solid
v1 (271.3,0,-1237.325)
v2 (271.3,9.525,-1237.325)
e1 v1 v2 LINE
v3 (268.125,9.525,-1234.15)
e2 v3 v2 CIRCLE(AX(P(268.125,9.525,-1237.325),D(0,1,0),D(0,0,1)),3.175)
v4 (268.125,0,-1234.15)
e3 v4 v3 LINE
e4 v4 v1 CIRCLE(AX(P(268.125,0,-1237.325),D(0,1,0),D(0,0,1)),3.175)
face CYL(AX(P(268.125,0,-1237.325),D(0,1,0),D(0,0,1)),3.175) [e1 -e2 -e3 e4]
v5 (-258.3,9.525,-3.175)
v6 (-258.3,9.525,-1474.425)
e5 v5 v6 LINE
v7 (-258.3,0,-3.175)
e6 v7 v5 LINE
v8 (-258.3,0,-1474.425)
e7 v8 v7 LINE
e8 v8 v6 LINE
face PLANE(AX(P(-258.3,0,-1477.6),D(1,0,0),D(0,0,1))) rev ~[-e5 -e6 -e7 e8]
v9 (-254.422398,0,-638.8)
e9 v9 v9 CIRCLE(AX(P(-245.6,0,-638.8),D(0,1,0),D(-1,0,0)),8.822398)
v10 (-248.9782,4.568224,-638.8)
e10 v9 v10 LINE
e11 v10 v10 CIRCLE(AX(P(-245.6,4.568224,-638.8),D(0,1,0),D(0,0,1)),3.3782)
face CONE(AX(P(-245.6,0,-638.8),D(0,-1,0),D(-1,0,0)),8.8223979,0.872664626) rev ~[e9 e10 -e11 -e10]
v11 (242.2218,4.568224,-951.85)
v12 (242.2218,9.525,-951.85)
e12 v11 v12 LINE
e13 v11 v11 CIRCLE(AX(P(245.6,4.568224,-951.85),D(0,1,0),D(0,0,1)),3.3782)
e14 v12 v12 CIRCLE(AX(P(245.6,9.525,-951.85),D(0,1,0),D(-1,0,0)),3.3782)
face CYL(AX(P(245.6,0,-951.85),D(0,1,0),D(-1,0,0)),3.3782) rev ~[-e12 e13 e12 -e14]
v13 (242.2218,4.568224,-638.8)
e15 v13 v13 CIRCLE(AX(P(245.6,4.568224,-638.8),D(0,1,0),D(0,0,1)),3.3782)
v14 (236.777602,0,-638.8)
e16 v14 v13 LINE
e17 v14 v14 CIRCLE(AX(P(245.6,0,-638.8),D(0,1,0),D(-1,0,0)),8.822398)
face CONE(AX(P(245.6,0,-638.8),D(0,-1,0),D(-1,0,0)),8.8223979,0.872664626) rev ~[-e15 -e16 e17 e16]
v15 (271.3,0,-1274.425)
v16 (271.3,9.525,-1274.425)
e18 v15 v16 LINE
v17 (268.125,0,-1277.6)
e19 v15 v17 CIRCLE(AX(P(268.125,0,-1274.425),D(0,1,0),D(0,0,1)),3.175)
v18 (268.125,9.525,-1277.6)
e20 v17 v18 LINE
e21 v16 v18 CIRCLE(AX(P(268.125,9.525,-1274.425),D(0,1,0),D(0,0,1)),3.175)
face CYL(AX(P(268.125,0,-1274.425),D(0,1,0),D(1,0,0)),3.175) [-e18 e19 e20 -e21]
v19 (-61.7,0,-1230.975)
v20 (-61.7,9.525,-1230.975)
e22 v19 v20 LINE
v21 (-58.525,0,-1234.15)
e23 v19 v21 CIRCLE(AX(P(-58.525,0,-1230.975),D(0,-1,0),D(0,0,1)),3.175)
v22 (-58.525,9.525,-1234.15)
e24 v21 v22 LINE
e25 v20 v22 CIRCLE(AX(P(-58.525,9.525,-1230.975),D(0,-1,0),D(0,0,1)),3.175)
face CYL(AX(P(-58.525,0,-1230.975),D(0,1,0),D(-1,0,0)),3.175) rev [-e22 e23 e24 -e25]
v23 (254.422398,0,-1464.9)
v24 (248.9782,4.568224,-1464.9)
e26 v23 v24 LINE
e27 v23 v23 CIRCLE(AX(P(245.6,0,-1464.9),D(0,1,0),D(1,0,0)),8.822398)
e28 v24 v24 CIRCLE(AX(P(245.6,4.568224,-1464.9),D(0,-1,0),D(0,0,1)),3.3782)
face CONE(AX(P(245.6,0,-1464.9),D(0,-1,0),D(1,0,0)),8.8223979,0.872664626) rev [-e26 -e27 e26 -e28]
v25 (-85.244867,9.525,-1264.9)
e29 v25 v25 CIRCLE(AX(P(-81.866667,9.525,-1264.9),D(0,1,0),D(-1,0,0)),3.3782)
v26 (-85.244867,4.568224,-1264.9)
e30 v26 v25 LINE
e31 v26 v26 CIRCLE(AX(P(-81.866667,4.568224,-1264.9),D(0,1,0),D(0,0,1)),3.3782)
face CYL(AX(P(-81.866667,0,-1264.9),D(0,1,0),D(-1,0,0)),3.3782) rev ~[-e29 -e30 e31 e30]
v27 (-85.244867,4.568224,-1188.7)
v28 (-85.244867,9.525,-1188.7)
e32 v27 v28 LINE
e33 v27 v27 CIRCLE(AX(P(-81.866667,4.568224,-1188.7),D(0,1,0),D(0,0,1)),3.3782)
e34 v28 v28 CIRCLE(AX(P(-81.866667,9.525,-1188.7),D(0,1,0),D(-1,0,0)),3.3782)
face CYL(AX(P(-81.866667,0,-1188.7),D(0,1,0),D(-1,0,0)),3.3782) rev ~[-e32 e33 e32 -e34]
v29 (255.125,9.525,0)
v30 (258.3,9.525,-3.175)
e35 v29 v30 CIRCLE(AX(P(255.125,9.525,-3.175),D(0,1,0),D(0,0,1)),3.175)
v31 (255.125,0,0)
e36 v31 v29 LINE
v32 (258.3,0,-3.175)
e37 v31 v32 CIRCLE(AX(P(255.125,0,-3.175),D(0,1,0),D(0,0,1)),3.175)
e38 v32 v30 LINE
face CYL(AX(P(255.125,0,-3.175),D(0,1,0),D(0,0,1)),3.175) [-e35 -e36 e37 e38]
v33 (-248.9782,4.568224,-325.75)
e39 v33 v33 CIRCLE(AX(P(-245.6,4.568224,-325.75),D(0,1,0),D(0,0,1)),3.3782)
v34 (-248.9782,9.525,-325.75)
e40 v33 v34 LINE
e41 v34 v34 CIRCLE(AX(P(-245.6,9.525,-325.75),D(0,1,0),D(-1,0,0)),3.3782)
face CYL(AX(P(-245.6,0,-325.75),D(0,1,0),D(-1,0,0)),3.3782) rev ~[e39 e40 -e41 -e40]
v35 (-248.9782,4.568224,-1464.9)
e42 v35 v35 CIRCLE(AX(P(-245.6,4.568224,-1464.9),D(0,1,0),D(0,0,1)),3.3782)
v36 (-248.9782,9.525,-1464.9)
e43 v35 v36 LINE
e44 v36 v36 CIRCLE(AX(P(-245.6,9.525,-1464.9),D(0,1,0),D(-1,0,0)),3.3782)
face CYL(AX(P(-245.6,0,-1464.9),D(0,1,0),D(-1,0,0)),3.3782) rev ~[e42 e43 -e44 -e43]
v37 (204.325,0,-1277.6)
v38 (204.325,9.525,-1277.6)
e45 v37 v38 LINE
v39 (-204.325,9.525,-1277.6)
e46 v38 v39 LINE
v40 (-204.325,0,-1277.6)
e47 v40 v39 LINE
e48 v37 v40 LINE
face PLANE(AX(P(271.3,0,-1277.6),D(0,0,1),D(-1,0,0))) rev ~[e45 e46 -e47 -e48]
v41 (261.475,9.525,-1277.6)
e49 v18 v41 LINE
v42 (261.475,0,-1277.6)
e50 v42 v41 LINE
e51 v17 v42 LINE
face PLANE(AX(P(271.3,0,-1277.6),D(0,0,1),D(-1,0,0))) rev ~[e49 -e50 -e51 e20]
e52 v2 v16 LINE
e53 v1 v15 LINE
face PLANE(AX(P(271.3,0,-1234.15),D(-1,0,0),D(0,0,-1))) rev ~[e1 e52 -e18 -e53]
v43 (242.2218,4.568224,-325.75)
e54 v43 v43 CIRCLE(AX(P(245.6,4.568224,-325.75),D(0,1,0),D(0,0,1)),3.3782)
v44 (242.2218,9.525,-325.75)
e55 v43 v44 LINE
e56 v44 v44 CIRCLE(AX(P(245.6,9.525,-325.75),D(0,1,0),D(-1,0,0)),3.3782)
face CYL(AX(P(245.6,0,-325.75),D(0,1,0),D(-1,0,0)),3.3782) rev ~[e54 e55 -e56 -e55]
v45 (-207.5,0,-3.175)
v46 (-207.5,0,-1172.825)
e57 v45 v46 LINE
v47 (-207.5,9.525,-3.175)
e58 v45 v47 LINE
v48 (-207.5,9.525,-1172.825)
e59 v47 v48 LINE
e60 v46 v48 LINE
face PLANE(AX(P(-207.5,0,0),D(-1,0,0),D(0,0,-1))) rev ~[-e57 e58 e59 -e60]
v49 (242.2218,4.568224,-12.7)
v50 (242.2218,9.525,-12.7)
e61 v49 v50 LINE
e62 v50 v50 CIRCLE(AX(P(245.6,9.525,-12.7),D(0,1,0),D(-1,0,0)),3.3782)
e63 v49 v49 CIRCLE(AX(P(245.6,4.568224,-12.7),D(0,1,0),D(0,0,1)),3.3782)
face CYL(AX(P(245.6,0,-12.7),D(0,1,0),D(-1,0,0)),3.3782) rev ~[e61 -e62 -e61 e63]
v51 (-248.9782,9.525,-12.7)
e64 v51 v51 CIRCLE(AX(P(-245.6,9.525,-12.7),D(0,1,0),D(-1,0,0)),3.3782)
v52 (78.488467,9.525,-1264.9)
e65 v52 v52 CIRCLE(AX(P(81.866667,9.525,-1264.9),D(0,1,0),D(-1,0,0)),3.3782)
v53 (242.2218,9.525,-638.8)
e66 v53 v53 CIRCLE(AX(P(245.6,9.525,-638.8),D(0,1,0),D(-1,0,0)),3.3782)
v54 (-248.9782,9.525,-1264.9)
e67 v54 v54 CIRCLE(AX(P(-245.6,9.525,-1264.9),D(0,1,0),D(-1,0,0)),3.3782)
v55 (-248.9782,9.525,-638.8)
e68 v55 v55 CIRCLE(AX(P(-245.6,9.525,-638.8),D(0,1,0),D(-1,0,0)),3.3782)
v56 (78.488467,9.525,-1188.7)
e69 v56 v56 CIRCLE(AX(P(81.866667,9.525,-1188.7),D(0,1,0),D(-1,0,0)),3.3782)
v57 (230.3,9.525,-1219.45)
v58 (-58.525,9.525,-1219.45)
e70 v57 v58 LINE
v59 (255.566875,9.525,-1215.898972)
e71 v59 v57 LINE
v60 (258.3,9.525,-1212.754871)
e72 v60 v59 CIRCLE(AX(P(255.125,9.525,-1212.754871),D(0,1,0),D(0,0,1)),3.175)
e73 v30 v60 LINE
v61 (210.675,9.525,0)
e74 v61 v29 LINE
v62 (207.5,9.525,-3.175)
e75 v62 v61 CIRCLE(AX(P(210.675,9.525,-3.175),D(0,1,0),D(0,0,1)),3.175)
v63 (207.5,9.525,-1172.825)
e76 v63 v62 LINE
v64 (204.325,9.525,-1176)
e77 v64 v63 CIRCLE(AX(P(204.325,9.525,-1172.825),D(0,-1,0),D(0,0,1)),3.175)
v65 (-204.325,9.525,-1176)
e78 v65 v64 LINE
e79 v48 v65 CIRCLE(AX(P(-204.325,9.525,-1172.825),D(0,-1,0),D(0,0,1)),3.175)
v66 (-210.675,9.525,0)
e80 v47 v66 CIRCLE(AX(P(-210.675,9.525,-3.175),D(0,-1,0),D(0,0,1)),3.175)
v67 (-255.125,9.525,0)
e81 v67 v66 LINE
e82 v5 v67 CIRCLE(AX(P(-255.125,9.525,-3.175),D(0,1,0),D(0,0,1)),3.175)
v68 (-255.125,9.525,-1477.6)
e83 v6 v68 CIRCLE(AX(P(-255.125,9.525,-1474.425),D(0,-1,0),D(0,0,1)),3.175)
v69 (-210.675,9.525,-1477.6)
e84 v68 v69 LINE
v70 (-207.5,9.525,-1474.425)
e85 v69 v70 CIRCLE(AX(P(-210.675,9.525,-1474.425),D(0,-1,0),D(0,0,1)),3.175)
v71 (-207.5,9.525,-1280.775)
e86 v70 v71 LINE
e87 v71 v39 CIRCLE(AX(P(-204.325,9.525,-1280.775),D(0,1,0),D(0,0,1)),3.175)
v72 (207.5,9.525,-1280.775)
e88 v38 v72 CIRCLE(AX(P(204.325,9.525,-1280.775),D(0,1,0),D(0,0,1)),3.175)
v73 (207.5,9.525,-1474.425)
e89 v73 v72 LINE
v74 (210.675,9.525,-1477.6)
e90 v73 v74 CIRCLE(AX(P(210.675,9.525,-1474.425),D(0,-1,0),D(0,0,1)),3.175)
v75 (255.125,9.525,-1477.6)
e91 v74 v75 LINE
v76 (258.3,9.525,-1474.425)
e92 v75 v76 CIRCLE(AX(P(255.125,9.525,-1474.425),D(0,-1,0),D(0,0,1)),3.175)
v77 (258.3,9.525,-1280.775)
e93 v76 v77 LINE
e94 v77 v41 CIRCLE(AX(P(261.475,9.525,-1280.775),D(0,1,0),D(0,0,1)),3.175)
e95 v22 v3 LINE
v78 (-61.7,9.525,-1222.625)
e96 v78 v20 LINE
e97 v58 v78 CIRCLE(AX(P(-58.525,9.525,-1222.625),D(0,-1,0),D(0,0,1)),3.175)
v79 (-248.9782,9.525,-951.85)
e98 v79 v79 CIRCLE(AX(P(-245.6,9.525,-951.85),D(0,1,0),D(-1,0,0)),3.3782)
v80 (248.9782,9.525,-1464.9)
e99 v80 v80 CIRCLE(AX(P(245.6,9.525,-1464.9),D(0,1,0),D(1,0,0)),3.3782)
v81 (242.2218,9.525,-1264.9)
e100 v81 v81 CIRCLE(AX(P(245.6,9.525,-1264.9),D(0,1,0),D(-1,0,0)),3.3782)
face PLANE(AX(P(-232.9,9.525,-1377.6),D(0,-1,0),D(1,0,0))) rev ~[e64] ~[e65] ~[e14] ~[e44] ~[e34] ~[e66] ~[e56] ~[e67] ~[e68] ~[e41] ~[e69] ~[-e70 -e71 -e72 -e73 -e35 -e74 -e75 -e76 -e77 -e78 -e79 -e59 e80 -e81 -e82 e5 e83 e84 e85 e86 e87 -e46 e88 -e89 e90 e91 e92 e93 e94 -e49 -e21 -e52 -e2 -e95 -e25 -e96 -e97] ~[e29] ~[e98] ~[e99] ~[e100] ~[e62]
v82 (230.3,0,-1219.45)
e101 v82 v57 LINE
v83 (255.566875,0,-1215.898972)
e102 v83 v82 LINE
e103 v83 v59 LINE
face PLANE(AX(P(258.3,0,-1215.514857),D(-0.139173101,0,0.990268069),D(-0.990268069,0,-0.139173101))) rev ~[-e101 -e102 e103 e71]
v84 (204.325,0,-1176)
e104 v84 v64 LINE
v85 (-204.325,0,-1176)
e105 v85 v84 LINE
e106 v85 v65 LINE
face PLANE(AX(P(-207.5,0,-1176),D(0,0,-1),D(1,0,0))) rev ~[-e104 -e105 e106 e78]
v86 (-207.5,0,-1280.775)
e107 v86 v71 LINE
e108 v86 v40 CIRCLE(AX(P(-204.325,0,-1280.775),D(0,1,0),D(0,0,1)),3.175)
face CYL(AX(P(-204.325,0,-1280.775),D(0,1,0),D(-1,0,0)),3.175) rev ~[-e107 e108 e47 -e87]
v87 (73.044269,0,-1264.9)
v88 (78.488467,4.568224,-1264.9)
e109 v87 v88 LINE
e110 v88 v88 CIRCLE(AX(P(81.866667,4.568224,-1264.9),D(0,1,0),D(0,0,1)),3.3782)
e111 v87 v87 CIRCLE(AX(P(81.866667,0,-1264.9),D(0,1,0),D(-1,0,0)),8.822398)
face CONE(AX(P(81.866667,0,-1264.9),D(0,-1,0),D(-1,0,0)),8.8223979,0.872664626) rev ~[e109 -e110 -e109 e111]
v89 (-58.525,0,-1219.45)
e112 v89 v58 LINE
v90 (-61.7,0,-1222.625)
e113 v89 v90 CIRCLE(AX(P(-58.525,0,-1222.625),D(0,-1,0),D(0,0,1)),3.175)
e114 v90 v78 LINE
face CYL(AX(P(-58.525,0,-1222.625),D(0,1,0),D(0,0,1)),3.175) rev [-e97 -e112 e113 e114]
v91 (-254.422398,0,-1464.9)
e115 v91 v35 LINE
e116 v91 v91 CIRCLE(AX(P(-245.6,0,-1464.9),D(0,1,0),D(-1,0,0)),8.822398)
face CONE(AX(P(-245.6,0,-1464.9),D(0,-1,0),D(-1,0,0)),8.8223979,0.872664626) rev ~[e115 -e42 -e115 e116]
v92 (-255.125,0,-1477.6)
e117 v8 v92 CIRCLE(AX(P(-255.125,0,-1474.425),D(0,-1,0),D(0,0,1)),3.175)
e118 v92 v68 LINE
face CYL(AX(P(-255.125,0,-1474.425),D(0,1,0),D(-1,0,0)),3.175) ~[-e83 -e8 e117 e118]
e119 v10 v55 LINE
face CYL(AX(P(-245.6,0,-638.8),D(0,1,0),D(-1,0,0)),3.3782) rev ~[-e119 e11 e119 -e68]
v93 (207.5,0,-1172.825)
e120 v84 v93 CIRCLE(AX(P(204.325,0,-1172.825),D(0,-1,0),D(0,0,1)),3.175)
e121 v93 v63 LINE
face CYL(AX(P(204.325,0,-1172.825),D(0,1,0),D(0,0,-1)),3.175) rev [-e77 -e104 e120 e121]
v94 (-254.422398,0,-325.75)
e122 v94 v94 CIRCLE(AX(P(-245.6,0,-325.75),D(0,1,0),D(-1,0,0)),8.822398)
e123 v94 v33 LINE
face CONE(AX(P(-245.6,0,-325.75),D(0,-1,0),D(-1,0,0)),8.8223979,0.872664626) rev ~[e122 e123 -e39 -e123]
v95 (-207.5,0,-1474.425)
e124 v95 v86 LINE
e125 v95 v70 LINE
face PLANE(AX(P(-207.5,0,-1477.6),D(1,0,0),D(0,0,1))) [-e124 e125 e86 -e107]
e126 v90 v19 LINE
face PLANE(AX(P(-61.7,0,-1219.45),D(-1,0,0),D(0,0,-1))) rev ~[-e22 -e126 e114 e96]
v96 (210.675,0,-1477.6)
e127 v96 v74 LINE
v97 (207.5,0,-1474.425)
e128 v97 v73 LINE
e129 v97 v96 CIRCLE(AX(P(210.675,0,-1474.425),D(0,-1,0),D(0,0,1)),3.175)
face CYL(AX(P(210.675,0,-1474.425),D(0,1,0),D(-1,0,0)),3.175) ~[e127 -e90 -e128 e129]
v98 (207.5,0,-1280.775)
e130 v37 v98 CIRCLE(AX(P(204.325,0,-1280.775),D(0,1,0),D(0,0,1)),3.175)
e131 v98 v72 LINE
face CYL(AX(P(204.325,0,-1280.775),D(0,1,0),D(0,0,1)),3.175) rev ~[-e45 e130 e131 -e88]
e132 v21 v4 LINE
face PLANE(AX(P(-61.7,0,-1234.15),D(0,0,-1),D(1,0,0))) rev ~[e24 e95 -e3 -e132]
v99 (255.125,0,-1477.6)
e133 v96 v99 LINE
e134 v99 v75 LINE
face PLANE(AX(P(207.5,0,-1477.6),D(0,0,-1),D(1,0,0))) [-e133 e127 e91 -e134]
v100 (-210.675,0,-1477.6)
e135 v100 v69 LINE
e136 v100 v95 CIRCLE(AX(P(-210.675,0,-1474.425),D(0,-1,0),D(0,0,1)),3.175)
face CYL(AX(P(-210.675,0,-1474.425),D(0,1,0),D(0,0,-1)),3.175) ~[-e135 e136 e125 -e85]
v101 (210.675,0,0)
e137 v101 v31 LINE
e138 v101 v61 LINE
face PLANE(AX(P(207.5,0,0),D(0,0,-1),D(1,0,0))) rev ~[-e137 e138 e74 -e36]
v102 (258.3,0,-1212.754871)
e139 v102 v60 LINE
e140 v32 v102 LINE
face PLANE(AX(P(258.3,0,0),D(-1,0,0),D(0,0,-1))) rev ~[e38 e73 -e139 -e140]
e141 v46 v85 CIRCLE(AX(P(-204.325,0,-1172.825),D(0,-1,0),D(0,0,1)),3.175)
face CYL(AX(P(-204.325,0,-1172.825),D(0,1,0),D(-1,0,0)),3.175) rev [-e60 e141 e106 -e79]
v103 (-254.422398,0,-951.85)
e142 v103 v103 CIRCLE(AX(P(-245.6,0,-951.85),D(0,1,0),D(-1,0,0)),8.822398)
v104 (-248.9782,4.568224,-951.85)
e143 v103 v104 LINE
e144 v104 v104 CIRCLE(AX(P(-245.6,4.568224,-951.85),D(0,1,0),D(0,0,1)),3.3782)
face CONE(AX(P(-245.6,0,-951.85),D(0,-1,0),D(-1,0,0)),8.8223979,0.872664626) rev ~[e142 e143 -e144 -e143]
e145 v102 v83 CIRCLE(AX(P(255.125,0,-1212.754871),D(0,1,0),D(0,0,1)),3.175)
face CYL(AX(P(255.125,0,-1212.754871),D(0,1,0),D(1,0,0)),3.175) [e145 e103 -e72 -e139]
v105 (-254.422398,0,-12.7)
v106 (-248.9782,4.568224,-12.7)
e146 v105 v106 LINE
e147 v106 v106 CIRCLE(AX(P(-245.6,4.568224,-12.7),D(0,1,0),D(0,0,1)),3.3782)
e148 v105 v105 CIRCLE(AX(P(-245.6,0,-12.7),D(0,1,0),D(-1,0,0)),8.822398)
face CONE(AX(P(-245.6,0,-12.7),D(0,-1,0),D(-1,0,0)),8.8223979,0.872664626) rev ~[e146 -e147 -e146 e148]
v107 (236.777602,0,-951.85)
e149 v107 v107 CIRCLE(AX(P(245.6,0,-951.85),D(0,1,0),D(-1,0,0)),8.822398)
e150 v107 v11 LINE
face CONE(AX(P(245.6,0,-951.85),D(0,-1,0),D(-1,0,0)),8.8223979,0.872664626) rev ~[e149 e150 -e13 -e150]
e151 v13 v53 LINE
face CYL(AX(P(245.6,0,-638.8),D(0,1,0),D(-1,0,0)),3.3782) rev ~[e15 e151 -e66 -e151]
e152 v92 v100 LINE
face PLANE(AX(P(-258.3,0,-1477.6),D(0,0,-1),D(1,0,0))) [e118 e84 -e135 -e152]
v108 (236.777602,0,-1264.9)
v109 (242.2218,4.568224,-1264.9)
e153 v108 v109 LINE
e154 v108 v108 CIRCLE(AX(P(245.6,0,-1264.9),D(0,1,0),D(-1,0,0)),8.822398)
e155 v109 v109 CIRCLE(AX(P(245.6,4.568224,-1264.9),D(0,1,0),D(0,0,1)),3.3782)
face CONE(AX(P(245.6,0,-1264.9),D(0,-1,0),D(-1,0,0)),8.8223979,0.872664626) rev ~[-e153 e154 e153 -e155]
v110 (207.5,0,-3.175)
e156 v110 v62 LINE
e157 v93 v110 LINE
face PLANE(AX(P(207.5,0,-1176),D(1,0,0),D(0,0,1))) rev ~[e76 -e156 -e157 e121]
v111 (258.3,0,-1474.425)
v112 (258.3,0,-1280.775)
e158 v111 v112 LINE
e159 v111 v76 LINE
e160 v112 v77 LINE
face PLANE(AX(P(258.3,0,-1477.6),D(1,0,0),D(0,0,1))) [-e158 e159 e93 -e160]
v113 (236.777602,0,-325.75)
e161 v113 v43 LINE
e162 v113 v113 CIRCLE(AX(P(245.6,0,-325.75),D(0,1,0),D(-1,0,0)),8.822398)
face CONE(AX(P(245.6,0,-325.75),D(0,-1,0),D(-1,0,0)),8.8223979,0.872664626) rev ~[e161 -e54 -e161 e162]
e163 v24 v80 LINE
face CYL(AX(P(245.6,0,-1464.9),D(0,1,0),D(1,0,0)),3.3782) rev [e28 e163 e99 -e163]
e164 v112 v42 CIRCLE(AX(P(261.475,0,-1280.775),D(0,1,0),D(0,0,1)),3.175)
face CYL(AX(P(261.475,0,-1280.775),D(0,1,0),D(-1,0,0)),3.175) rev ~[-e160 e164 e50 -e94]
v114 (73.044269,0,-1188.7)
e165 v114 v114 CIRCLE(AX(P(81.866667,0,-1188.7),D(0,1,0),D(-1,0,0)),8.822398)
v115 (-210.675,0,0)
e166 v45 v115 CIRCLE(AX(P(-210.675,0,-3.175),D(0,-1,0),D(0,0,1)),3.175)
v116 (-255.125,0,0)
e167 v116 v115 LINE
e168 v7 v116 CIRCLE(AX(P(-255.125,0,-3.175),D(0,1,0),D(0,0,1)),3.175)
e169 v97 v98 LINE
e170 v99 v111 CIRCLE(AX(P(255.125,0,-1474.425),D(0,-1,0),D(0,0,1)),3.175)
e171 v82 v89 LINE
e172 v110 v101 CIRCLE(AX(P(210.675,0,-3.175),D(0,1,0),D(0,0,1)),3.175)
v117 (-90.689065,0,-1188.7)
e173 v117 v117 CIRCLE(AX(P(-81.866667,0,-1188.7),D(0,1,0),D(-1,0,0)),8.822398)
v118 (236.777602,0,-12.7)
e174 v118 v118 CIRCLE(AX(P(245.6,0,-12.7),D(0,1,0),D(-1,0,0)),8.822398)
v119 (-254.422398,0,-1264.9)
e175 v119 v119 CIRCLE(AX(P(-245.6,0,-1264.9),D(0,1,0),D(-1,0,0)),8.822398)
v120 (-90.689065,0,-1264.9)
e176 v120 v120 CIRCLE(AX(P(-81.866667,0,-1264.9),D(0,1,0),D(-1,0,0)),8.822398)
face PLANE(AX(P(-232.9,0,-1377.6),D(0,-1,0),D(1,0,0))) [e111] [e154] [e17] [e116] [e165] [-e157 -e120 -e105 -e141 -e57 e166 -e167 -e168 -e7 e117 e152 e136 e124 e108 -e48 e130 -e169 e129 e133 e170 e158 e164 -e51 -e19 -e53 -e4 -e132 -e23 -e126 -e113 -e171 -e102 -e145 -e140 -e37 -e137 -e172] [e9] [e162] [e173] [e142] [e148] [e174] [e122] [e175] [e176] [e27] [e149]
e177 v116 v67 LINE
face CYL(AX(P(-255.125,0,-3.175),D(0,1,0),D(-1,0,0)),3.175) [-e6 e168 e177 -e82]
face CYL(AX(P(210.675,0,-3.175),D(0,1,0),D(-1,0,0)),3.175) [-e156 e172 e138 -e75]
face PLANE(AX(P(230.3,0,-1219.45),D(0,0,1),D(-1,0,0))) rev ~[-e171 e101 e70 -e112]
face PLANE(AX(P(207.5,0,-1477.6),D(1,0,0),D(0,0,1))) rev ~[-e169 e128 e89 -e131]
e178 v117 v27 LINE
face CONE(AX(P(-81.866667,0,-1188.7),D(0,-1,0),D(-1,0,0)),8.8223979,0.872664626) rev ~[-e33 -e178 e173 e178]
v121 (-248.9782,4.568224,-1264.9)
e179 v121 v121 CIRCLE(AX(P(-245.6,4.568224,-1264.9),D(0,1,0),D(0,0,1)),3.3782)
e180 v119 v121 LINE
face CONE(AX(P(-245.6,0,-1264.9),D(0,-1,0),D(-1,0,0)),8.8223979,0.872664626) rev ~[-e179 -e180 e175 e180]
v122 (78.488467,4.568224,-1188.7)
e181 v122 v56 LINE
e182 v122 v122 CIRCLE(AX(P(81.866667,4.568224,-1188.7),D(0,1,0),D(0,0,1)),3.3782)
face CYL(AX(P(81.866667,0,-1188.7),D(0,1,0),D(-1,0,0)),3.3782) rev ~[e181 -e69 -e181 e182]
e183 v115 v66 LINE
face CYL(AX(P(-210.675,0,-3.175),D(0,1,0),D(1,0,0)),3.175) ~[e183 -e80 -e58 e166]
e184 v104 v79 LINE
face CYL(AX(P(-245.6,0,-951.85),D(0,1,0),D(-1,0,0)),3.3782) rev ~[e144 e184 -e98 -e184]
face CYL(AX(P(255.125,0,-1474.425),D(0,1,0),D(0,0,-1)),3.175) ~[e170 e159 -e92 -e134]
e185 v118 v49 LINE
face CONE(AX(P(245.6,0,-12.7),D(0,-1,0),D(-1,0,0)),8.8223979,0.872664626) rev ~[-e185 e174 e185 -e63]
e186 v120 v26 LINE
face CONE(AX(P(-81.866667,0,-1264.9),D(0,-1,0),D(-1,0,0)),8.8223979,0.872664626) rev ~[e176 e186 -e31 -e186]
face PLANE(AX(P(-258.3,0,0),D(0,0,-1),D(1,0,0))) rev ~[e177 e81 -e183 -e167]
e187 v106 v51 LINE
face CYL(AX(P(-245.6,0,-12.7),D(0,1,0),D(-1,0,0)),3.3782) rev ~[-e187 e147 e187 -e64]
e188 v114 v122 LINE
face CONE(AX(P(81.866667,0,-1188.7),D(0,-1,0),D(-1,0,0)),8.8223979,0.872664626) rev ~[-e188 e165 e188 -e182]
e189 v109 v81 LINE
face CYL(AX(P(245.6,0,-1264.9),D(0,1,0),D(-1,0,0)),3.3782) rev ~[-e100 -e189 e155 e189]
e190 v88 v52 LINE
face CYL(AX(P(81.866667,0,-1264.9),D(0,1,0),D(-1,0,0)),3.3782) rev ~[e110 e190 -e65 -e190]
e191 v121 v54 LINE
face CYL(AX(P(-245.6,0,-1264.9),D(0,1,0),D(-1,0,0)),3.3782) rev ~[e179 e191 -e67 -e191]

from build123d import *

# Parameters (mm, degrees)
BOSS_EXTRUDE1_DEPTH                                 = 9.525
SKETCH4_W                                           = 50.8
SKETCH4_H                                           = 200
BOSS_EXTRUDE2_DEPTH                                 = 9.525
CSK_FOR_1_4_FLAT_HEAD_MACHINE_SCREW_100_D           = 6.7564
CSK_FOR_1_4_FLAT_HEAD_MACHINE_SCREW_100_CSINK_D     = 17.6447958
CSK_FOR_1_4_FLAT_HEAD_MACHINE_SCREW_100_CSINK_ANGLE = 100
LPATTERN3_COUNT                                     = 2
LPATTERN3_PITCH                                     = 491.2
LPATTERN3_COUNT_DIR2                                = 5
LPATTERN3_PITCH_DIR2                                = 313.05
LPATTERN2_COUNT                                     = 3
LPATTERN2_PITCH                                     = 163.733333333
LPATTERN2_COUNT_DIR2                                = 2
LPATTERN2_PITCH_DIR2                                = 76.2
CSK_FOR_1_4_FLAT_HEAD_MACHINE_SCREW_2_D             = 6.7564
CSK_FOR_1_4_FLAT_HEAD_MACHINE_SCREW_2_CSINK_D       = 17.6447958
CSK_FOR_1_4_FLAT_HEAD_MACHINE_SCREW_2_CSINK_ANGLE   = 100
FILLET1_R                                           = 3.175
FILLET2_R                                           = 3.175


with BuildPart() as part:
    # Sketch1 → Boss-Extrude1 (new body)
    with BuildSketch(Plane(origin=(0, 0, 0), x_dir=(1, 0, 0), z_dir=(0, 1, 0))):
        Polygon((-258.3, 0), (-207.5, 0), (-207.5, 1176), (207.5, 1176), (207.5, 0), (258.3, 0), (258.3, 1215.514856628), (230.3, 1219.45), (-61.7, 1219.45), (-61.7, 1234.15), (271.3, 1234.15), (271.3, 1277.6), (-258.3, 1277.6), align=None)
    extrude(amount=BOSS_EXTRUDE1_DEPTH)

    # Sketch4 → Boss-Extrude2 (add)
    with BuildSketch(Plane.XZ):
        with Locations((-232.9, -1377.6)):
            Rectangle(SKETCH4_W, SKETCH4_H)
        with Locations((232.9, -1377.6)):
            Rectangle(SKETCH4_W, SKETCH4_H)
    extrude(amount=-BOSS_EXTRUDE2_DEPTH)

    # CSK for 1_4 Flat Head Machine Screw _100 (through all)
    with Locations(Plane.XZ):
        with Locations((-245.6, -1264.9)):
            csk_for_1_4_flat_head_machine_screw_100 = CounterSinkHole(CSK_FOR_1_4_FLAT_HEAD_MACHINE_SCREW_100_D / 2, CSK_FOR_1_4_FLAT_HEAD_MACHINE_SCREW_100_CSINK_D / 2, counter_sink_angle=CSK_FOR_1_4_FLAT_HEAD_MACHINE_SCREW_100_CSINK_ANGLE)

    # LPattern3: CSK for 1_4 Flat Head Machine Screw _100 2 × 5
    with Locations(*[(i * LPATTERN3_PITCH, 0, j * LPATTERN3_PITCH_DIR2) for i in range(LPATTERN3_COUNT) for j in range(LPATTERN3_COUNT_DIR2) if (i, j) != (0, 0)]):
        add(csk_for_1_4_flat_head_machine_screw_100, mode=Mode.SUBTRACT)

    # LPattern2: CSK for 1_4 Flat Head Machine Screw _100 3 × 2, 1 skipped
    with Locations(*[(i * LPATTERN2_PITCH, 0, j * LPATTERN2_PITCH_DIR2) for i in range(LPATTERN2_COUNT) for j in range(LPATTERN2_COUNT_DIR2) if (i, j) not in ((0, 0), (0, 1))]):
        add(csk_for_1_4_flat_head_machine_screw_100, mode=Mode.SUBTRACT)

    # CSK for 1_4 Flat Head Machine Screw  2 (through all)
    with Locations(Plane.XZ):
        with Locations((-245.6, -1464.9)):
            csk_for_1_4_flat_head_machine_screw_2 = CounterSinkHole(CSK_FOR_1_4_FLAT_HEAD_MACHINE_SCREW_2_D / 2, CSK_FOR_1_4_FLAT_HEAD_MACHINE_SCREW_2_CSINK_D / 2, counter_sink_angle=CSK_FOR_1_4_FLAT_HEAD_MACHINE_SCREW_2_CSINK_ANGLE)

    # Mirror1: CSK for 1_4 Flat Head Machine Screw  2 across plane
    add(csk_for_1_4_flat_head_machine_screw_2.mirror(Plane(origin=(0, 0, 0), x_dir=(0, 0, 1), z_dir=(1, 0, 0))), mode=Mode.SUBTRACT)

    # Fillet1
    fillet1_edges = [part.edges().sort_by_distance(p)[0] for p in [
        (258.3, 4.7625, 0),
        (207.5, 4.7625, 0),
        (-207.5, 4.7625, 0),
        (-258.3, 4.7625, 0),
        (207.5, 4.7625, -1176),
        (-207.5, 4.7625, -1176),
        (258.3, 4.7625, -1215.514856628),
        (271.3, 4.7625, -1234.15),
        (271.3, 4.7625, -1277.6),
        (-61.7, 4.7625, -1219.45),
        (-61.7, 4.7625, -1234.15),
    ]]
    fillet(fillet1_edges, radius=FILLET1_R)

    # Fillet2
    fillet2_edges = [part.edges().sort_by_distance(p)[0] for p in [
        (207.5, 4.7625, -1477.6),
        (258.3, 4.7625, -1477.6),
        (-258.3, 4.7625, -1477.6),
        (-207.5, 4.7625, -1477.6),
        (-207.5, 4.7625, -1277.6),
        (207.5, 4.7625, -1277.6),
        (258.3, 4.7625, -1277.6),
    ]]
    fillet(fillet2_edges, radius=FILLET2_R)


solid = part.part
